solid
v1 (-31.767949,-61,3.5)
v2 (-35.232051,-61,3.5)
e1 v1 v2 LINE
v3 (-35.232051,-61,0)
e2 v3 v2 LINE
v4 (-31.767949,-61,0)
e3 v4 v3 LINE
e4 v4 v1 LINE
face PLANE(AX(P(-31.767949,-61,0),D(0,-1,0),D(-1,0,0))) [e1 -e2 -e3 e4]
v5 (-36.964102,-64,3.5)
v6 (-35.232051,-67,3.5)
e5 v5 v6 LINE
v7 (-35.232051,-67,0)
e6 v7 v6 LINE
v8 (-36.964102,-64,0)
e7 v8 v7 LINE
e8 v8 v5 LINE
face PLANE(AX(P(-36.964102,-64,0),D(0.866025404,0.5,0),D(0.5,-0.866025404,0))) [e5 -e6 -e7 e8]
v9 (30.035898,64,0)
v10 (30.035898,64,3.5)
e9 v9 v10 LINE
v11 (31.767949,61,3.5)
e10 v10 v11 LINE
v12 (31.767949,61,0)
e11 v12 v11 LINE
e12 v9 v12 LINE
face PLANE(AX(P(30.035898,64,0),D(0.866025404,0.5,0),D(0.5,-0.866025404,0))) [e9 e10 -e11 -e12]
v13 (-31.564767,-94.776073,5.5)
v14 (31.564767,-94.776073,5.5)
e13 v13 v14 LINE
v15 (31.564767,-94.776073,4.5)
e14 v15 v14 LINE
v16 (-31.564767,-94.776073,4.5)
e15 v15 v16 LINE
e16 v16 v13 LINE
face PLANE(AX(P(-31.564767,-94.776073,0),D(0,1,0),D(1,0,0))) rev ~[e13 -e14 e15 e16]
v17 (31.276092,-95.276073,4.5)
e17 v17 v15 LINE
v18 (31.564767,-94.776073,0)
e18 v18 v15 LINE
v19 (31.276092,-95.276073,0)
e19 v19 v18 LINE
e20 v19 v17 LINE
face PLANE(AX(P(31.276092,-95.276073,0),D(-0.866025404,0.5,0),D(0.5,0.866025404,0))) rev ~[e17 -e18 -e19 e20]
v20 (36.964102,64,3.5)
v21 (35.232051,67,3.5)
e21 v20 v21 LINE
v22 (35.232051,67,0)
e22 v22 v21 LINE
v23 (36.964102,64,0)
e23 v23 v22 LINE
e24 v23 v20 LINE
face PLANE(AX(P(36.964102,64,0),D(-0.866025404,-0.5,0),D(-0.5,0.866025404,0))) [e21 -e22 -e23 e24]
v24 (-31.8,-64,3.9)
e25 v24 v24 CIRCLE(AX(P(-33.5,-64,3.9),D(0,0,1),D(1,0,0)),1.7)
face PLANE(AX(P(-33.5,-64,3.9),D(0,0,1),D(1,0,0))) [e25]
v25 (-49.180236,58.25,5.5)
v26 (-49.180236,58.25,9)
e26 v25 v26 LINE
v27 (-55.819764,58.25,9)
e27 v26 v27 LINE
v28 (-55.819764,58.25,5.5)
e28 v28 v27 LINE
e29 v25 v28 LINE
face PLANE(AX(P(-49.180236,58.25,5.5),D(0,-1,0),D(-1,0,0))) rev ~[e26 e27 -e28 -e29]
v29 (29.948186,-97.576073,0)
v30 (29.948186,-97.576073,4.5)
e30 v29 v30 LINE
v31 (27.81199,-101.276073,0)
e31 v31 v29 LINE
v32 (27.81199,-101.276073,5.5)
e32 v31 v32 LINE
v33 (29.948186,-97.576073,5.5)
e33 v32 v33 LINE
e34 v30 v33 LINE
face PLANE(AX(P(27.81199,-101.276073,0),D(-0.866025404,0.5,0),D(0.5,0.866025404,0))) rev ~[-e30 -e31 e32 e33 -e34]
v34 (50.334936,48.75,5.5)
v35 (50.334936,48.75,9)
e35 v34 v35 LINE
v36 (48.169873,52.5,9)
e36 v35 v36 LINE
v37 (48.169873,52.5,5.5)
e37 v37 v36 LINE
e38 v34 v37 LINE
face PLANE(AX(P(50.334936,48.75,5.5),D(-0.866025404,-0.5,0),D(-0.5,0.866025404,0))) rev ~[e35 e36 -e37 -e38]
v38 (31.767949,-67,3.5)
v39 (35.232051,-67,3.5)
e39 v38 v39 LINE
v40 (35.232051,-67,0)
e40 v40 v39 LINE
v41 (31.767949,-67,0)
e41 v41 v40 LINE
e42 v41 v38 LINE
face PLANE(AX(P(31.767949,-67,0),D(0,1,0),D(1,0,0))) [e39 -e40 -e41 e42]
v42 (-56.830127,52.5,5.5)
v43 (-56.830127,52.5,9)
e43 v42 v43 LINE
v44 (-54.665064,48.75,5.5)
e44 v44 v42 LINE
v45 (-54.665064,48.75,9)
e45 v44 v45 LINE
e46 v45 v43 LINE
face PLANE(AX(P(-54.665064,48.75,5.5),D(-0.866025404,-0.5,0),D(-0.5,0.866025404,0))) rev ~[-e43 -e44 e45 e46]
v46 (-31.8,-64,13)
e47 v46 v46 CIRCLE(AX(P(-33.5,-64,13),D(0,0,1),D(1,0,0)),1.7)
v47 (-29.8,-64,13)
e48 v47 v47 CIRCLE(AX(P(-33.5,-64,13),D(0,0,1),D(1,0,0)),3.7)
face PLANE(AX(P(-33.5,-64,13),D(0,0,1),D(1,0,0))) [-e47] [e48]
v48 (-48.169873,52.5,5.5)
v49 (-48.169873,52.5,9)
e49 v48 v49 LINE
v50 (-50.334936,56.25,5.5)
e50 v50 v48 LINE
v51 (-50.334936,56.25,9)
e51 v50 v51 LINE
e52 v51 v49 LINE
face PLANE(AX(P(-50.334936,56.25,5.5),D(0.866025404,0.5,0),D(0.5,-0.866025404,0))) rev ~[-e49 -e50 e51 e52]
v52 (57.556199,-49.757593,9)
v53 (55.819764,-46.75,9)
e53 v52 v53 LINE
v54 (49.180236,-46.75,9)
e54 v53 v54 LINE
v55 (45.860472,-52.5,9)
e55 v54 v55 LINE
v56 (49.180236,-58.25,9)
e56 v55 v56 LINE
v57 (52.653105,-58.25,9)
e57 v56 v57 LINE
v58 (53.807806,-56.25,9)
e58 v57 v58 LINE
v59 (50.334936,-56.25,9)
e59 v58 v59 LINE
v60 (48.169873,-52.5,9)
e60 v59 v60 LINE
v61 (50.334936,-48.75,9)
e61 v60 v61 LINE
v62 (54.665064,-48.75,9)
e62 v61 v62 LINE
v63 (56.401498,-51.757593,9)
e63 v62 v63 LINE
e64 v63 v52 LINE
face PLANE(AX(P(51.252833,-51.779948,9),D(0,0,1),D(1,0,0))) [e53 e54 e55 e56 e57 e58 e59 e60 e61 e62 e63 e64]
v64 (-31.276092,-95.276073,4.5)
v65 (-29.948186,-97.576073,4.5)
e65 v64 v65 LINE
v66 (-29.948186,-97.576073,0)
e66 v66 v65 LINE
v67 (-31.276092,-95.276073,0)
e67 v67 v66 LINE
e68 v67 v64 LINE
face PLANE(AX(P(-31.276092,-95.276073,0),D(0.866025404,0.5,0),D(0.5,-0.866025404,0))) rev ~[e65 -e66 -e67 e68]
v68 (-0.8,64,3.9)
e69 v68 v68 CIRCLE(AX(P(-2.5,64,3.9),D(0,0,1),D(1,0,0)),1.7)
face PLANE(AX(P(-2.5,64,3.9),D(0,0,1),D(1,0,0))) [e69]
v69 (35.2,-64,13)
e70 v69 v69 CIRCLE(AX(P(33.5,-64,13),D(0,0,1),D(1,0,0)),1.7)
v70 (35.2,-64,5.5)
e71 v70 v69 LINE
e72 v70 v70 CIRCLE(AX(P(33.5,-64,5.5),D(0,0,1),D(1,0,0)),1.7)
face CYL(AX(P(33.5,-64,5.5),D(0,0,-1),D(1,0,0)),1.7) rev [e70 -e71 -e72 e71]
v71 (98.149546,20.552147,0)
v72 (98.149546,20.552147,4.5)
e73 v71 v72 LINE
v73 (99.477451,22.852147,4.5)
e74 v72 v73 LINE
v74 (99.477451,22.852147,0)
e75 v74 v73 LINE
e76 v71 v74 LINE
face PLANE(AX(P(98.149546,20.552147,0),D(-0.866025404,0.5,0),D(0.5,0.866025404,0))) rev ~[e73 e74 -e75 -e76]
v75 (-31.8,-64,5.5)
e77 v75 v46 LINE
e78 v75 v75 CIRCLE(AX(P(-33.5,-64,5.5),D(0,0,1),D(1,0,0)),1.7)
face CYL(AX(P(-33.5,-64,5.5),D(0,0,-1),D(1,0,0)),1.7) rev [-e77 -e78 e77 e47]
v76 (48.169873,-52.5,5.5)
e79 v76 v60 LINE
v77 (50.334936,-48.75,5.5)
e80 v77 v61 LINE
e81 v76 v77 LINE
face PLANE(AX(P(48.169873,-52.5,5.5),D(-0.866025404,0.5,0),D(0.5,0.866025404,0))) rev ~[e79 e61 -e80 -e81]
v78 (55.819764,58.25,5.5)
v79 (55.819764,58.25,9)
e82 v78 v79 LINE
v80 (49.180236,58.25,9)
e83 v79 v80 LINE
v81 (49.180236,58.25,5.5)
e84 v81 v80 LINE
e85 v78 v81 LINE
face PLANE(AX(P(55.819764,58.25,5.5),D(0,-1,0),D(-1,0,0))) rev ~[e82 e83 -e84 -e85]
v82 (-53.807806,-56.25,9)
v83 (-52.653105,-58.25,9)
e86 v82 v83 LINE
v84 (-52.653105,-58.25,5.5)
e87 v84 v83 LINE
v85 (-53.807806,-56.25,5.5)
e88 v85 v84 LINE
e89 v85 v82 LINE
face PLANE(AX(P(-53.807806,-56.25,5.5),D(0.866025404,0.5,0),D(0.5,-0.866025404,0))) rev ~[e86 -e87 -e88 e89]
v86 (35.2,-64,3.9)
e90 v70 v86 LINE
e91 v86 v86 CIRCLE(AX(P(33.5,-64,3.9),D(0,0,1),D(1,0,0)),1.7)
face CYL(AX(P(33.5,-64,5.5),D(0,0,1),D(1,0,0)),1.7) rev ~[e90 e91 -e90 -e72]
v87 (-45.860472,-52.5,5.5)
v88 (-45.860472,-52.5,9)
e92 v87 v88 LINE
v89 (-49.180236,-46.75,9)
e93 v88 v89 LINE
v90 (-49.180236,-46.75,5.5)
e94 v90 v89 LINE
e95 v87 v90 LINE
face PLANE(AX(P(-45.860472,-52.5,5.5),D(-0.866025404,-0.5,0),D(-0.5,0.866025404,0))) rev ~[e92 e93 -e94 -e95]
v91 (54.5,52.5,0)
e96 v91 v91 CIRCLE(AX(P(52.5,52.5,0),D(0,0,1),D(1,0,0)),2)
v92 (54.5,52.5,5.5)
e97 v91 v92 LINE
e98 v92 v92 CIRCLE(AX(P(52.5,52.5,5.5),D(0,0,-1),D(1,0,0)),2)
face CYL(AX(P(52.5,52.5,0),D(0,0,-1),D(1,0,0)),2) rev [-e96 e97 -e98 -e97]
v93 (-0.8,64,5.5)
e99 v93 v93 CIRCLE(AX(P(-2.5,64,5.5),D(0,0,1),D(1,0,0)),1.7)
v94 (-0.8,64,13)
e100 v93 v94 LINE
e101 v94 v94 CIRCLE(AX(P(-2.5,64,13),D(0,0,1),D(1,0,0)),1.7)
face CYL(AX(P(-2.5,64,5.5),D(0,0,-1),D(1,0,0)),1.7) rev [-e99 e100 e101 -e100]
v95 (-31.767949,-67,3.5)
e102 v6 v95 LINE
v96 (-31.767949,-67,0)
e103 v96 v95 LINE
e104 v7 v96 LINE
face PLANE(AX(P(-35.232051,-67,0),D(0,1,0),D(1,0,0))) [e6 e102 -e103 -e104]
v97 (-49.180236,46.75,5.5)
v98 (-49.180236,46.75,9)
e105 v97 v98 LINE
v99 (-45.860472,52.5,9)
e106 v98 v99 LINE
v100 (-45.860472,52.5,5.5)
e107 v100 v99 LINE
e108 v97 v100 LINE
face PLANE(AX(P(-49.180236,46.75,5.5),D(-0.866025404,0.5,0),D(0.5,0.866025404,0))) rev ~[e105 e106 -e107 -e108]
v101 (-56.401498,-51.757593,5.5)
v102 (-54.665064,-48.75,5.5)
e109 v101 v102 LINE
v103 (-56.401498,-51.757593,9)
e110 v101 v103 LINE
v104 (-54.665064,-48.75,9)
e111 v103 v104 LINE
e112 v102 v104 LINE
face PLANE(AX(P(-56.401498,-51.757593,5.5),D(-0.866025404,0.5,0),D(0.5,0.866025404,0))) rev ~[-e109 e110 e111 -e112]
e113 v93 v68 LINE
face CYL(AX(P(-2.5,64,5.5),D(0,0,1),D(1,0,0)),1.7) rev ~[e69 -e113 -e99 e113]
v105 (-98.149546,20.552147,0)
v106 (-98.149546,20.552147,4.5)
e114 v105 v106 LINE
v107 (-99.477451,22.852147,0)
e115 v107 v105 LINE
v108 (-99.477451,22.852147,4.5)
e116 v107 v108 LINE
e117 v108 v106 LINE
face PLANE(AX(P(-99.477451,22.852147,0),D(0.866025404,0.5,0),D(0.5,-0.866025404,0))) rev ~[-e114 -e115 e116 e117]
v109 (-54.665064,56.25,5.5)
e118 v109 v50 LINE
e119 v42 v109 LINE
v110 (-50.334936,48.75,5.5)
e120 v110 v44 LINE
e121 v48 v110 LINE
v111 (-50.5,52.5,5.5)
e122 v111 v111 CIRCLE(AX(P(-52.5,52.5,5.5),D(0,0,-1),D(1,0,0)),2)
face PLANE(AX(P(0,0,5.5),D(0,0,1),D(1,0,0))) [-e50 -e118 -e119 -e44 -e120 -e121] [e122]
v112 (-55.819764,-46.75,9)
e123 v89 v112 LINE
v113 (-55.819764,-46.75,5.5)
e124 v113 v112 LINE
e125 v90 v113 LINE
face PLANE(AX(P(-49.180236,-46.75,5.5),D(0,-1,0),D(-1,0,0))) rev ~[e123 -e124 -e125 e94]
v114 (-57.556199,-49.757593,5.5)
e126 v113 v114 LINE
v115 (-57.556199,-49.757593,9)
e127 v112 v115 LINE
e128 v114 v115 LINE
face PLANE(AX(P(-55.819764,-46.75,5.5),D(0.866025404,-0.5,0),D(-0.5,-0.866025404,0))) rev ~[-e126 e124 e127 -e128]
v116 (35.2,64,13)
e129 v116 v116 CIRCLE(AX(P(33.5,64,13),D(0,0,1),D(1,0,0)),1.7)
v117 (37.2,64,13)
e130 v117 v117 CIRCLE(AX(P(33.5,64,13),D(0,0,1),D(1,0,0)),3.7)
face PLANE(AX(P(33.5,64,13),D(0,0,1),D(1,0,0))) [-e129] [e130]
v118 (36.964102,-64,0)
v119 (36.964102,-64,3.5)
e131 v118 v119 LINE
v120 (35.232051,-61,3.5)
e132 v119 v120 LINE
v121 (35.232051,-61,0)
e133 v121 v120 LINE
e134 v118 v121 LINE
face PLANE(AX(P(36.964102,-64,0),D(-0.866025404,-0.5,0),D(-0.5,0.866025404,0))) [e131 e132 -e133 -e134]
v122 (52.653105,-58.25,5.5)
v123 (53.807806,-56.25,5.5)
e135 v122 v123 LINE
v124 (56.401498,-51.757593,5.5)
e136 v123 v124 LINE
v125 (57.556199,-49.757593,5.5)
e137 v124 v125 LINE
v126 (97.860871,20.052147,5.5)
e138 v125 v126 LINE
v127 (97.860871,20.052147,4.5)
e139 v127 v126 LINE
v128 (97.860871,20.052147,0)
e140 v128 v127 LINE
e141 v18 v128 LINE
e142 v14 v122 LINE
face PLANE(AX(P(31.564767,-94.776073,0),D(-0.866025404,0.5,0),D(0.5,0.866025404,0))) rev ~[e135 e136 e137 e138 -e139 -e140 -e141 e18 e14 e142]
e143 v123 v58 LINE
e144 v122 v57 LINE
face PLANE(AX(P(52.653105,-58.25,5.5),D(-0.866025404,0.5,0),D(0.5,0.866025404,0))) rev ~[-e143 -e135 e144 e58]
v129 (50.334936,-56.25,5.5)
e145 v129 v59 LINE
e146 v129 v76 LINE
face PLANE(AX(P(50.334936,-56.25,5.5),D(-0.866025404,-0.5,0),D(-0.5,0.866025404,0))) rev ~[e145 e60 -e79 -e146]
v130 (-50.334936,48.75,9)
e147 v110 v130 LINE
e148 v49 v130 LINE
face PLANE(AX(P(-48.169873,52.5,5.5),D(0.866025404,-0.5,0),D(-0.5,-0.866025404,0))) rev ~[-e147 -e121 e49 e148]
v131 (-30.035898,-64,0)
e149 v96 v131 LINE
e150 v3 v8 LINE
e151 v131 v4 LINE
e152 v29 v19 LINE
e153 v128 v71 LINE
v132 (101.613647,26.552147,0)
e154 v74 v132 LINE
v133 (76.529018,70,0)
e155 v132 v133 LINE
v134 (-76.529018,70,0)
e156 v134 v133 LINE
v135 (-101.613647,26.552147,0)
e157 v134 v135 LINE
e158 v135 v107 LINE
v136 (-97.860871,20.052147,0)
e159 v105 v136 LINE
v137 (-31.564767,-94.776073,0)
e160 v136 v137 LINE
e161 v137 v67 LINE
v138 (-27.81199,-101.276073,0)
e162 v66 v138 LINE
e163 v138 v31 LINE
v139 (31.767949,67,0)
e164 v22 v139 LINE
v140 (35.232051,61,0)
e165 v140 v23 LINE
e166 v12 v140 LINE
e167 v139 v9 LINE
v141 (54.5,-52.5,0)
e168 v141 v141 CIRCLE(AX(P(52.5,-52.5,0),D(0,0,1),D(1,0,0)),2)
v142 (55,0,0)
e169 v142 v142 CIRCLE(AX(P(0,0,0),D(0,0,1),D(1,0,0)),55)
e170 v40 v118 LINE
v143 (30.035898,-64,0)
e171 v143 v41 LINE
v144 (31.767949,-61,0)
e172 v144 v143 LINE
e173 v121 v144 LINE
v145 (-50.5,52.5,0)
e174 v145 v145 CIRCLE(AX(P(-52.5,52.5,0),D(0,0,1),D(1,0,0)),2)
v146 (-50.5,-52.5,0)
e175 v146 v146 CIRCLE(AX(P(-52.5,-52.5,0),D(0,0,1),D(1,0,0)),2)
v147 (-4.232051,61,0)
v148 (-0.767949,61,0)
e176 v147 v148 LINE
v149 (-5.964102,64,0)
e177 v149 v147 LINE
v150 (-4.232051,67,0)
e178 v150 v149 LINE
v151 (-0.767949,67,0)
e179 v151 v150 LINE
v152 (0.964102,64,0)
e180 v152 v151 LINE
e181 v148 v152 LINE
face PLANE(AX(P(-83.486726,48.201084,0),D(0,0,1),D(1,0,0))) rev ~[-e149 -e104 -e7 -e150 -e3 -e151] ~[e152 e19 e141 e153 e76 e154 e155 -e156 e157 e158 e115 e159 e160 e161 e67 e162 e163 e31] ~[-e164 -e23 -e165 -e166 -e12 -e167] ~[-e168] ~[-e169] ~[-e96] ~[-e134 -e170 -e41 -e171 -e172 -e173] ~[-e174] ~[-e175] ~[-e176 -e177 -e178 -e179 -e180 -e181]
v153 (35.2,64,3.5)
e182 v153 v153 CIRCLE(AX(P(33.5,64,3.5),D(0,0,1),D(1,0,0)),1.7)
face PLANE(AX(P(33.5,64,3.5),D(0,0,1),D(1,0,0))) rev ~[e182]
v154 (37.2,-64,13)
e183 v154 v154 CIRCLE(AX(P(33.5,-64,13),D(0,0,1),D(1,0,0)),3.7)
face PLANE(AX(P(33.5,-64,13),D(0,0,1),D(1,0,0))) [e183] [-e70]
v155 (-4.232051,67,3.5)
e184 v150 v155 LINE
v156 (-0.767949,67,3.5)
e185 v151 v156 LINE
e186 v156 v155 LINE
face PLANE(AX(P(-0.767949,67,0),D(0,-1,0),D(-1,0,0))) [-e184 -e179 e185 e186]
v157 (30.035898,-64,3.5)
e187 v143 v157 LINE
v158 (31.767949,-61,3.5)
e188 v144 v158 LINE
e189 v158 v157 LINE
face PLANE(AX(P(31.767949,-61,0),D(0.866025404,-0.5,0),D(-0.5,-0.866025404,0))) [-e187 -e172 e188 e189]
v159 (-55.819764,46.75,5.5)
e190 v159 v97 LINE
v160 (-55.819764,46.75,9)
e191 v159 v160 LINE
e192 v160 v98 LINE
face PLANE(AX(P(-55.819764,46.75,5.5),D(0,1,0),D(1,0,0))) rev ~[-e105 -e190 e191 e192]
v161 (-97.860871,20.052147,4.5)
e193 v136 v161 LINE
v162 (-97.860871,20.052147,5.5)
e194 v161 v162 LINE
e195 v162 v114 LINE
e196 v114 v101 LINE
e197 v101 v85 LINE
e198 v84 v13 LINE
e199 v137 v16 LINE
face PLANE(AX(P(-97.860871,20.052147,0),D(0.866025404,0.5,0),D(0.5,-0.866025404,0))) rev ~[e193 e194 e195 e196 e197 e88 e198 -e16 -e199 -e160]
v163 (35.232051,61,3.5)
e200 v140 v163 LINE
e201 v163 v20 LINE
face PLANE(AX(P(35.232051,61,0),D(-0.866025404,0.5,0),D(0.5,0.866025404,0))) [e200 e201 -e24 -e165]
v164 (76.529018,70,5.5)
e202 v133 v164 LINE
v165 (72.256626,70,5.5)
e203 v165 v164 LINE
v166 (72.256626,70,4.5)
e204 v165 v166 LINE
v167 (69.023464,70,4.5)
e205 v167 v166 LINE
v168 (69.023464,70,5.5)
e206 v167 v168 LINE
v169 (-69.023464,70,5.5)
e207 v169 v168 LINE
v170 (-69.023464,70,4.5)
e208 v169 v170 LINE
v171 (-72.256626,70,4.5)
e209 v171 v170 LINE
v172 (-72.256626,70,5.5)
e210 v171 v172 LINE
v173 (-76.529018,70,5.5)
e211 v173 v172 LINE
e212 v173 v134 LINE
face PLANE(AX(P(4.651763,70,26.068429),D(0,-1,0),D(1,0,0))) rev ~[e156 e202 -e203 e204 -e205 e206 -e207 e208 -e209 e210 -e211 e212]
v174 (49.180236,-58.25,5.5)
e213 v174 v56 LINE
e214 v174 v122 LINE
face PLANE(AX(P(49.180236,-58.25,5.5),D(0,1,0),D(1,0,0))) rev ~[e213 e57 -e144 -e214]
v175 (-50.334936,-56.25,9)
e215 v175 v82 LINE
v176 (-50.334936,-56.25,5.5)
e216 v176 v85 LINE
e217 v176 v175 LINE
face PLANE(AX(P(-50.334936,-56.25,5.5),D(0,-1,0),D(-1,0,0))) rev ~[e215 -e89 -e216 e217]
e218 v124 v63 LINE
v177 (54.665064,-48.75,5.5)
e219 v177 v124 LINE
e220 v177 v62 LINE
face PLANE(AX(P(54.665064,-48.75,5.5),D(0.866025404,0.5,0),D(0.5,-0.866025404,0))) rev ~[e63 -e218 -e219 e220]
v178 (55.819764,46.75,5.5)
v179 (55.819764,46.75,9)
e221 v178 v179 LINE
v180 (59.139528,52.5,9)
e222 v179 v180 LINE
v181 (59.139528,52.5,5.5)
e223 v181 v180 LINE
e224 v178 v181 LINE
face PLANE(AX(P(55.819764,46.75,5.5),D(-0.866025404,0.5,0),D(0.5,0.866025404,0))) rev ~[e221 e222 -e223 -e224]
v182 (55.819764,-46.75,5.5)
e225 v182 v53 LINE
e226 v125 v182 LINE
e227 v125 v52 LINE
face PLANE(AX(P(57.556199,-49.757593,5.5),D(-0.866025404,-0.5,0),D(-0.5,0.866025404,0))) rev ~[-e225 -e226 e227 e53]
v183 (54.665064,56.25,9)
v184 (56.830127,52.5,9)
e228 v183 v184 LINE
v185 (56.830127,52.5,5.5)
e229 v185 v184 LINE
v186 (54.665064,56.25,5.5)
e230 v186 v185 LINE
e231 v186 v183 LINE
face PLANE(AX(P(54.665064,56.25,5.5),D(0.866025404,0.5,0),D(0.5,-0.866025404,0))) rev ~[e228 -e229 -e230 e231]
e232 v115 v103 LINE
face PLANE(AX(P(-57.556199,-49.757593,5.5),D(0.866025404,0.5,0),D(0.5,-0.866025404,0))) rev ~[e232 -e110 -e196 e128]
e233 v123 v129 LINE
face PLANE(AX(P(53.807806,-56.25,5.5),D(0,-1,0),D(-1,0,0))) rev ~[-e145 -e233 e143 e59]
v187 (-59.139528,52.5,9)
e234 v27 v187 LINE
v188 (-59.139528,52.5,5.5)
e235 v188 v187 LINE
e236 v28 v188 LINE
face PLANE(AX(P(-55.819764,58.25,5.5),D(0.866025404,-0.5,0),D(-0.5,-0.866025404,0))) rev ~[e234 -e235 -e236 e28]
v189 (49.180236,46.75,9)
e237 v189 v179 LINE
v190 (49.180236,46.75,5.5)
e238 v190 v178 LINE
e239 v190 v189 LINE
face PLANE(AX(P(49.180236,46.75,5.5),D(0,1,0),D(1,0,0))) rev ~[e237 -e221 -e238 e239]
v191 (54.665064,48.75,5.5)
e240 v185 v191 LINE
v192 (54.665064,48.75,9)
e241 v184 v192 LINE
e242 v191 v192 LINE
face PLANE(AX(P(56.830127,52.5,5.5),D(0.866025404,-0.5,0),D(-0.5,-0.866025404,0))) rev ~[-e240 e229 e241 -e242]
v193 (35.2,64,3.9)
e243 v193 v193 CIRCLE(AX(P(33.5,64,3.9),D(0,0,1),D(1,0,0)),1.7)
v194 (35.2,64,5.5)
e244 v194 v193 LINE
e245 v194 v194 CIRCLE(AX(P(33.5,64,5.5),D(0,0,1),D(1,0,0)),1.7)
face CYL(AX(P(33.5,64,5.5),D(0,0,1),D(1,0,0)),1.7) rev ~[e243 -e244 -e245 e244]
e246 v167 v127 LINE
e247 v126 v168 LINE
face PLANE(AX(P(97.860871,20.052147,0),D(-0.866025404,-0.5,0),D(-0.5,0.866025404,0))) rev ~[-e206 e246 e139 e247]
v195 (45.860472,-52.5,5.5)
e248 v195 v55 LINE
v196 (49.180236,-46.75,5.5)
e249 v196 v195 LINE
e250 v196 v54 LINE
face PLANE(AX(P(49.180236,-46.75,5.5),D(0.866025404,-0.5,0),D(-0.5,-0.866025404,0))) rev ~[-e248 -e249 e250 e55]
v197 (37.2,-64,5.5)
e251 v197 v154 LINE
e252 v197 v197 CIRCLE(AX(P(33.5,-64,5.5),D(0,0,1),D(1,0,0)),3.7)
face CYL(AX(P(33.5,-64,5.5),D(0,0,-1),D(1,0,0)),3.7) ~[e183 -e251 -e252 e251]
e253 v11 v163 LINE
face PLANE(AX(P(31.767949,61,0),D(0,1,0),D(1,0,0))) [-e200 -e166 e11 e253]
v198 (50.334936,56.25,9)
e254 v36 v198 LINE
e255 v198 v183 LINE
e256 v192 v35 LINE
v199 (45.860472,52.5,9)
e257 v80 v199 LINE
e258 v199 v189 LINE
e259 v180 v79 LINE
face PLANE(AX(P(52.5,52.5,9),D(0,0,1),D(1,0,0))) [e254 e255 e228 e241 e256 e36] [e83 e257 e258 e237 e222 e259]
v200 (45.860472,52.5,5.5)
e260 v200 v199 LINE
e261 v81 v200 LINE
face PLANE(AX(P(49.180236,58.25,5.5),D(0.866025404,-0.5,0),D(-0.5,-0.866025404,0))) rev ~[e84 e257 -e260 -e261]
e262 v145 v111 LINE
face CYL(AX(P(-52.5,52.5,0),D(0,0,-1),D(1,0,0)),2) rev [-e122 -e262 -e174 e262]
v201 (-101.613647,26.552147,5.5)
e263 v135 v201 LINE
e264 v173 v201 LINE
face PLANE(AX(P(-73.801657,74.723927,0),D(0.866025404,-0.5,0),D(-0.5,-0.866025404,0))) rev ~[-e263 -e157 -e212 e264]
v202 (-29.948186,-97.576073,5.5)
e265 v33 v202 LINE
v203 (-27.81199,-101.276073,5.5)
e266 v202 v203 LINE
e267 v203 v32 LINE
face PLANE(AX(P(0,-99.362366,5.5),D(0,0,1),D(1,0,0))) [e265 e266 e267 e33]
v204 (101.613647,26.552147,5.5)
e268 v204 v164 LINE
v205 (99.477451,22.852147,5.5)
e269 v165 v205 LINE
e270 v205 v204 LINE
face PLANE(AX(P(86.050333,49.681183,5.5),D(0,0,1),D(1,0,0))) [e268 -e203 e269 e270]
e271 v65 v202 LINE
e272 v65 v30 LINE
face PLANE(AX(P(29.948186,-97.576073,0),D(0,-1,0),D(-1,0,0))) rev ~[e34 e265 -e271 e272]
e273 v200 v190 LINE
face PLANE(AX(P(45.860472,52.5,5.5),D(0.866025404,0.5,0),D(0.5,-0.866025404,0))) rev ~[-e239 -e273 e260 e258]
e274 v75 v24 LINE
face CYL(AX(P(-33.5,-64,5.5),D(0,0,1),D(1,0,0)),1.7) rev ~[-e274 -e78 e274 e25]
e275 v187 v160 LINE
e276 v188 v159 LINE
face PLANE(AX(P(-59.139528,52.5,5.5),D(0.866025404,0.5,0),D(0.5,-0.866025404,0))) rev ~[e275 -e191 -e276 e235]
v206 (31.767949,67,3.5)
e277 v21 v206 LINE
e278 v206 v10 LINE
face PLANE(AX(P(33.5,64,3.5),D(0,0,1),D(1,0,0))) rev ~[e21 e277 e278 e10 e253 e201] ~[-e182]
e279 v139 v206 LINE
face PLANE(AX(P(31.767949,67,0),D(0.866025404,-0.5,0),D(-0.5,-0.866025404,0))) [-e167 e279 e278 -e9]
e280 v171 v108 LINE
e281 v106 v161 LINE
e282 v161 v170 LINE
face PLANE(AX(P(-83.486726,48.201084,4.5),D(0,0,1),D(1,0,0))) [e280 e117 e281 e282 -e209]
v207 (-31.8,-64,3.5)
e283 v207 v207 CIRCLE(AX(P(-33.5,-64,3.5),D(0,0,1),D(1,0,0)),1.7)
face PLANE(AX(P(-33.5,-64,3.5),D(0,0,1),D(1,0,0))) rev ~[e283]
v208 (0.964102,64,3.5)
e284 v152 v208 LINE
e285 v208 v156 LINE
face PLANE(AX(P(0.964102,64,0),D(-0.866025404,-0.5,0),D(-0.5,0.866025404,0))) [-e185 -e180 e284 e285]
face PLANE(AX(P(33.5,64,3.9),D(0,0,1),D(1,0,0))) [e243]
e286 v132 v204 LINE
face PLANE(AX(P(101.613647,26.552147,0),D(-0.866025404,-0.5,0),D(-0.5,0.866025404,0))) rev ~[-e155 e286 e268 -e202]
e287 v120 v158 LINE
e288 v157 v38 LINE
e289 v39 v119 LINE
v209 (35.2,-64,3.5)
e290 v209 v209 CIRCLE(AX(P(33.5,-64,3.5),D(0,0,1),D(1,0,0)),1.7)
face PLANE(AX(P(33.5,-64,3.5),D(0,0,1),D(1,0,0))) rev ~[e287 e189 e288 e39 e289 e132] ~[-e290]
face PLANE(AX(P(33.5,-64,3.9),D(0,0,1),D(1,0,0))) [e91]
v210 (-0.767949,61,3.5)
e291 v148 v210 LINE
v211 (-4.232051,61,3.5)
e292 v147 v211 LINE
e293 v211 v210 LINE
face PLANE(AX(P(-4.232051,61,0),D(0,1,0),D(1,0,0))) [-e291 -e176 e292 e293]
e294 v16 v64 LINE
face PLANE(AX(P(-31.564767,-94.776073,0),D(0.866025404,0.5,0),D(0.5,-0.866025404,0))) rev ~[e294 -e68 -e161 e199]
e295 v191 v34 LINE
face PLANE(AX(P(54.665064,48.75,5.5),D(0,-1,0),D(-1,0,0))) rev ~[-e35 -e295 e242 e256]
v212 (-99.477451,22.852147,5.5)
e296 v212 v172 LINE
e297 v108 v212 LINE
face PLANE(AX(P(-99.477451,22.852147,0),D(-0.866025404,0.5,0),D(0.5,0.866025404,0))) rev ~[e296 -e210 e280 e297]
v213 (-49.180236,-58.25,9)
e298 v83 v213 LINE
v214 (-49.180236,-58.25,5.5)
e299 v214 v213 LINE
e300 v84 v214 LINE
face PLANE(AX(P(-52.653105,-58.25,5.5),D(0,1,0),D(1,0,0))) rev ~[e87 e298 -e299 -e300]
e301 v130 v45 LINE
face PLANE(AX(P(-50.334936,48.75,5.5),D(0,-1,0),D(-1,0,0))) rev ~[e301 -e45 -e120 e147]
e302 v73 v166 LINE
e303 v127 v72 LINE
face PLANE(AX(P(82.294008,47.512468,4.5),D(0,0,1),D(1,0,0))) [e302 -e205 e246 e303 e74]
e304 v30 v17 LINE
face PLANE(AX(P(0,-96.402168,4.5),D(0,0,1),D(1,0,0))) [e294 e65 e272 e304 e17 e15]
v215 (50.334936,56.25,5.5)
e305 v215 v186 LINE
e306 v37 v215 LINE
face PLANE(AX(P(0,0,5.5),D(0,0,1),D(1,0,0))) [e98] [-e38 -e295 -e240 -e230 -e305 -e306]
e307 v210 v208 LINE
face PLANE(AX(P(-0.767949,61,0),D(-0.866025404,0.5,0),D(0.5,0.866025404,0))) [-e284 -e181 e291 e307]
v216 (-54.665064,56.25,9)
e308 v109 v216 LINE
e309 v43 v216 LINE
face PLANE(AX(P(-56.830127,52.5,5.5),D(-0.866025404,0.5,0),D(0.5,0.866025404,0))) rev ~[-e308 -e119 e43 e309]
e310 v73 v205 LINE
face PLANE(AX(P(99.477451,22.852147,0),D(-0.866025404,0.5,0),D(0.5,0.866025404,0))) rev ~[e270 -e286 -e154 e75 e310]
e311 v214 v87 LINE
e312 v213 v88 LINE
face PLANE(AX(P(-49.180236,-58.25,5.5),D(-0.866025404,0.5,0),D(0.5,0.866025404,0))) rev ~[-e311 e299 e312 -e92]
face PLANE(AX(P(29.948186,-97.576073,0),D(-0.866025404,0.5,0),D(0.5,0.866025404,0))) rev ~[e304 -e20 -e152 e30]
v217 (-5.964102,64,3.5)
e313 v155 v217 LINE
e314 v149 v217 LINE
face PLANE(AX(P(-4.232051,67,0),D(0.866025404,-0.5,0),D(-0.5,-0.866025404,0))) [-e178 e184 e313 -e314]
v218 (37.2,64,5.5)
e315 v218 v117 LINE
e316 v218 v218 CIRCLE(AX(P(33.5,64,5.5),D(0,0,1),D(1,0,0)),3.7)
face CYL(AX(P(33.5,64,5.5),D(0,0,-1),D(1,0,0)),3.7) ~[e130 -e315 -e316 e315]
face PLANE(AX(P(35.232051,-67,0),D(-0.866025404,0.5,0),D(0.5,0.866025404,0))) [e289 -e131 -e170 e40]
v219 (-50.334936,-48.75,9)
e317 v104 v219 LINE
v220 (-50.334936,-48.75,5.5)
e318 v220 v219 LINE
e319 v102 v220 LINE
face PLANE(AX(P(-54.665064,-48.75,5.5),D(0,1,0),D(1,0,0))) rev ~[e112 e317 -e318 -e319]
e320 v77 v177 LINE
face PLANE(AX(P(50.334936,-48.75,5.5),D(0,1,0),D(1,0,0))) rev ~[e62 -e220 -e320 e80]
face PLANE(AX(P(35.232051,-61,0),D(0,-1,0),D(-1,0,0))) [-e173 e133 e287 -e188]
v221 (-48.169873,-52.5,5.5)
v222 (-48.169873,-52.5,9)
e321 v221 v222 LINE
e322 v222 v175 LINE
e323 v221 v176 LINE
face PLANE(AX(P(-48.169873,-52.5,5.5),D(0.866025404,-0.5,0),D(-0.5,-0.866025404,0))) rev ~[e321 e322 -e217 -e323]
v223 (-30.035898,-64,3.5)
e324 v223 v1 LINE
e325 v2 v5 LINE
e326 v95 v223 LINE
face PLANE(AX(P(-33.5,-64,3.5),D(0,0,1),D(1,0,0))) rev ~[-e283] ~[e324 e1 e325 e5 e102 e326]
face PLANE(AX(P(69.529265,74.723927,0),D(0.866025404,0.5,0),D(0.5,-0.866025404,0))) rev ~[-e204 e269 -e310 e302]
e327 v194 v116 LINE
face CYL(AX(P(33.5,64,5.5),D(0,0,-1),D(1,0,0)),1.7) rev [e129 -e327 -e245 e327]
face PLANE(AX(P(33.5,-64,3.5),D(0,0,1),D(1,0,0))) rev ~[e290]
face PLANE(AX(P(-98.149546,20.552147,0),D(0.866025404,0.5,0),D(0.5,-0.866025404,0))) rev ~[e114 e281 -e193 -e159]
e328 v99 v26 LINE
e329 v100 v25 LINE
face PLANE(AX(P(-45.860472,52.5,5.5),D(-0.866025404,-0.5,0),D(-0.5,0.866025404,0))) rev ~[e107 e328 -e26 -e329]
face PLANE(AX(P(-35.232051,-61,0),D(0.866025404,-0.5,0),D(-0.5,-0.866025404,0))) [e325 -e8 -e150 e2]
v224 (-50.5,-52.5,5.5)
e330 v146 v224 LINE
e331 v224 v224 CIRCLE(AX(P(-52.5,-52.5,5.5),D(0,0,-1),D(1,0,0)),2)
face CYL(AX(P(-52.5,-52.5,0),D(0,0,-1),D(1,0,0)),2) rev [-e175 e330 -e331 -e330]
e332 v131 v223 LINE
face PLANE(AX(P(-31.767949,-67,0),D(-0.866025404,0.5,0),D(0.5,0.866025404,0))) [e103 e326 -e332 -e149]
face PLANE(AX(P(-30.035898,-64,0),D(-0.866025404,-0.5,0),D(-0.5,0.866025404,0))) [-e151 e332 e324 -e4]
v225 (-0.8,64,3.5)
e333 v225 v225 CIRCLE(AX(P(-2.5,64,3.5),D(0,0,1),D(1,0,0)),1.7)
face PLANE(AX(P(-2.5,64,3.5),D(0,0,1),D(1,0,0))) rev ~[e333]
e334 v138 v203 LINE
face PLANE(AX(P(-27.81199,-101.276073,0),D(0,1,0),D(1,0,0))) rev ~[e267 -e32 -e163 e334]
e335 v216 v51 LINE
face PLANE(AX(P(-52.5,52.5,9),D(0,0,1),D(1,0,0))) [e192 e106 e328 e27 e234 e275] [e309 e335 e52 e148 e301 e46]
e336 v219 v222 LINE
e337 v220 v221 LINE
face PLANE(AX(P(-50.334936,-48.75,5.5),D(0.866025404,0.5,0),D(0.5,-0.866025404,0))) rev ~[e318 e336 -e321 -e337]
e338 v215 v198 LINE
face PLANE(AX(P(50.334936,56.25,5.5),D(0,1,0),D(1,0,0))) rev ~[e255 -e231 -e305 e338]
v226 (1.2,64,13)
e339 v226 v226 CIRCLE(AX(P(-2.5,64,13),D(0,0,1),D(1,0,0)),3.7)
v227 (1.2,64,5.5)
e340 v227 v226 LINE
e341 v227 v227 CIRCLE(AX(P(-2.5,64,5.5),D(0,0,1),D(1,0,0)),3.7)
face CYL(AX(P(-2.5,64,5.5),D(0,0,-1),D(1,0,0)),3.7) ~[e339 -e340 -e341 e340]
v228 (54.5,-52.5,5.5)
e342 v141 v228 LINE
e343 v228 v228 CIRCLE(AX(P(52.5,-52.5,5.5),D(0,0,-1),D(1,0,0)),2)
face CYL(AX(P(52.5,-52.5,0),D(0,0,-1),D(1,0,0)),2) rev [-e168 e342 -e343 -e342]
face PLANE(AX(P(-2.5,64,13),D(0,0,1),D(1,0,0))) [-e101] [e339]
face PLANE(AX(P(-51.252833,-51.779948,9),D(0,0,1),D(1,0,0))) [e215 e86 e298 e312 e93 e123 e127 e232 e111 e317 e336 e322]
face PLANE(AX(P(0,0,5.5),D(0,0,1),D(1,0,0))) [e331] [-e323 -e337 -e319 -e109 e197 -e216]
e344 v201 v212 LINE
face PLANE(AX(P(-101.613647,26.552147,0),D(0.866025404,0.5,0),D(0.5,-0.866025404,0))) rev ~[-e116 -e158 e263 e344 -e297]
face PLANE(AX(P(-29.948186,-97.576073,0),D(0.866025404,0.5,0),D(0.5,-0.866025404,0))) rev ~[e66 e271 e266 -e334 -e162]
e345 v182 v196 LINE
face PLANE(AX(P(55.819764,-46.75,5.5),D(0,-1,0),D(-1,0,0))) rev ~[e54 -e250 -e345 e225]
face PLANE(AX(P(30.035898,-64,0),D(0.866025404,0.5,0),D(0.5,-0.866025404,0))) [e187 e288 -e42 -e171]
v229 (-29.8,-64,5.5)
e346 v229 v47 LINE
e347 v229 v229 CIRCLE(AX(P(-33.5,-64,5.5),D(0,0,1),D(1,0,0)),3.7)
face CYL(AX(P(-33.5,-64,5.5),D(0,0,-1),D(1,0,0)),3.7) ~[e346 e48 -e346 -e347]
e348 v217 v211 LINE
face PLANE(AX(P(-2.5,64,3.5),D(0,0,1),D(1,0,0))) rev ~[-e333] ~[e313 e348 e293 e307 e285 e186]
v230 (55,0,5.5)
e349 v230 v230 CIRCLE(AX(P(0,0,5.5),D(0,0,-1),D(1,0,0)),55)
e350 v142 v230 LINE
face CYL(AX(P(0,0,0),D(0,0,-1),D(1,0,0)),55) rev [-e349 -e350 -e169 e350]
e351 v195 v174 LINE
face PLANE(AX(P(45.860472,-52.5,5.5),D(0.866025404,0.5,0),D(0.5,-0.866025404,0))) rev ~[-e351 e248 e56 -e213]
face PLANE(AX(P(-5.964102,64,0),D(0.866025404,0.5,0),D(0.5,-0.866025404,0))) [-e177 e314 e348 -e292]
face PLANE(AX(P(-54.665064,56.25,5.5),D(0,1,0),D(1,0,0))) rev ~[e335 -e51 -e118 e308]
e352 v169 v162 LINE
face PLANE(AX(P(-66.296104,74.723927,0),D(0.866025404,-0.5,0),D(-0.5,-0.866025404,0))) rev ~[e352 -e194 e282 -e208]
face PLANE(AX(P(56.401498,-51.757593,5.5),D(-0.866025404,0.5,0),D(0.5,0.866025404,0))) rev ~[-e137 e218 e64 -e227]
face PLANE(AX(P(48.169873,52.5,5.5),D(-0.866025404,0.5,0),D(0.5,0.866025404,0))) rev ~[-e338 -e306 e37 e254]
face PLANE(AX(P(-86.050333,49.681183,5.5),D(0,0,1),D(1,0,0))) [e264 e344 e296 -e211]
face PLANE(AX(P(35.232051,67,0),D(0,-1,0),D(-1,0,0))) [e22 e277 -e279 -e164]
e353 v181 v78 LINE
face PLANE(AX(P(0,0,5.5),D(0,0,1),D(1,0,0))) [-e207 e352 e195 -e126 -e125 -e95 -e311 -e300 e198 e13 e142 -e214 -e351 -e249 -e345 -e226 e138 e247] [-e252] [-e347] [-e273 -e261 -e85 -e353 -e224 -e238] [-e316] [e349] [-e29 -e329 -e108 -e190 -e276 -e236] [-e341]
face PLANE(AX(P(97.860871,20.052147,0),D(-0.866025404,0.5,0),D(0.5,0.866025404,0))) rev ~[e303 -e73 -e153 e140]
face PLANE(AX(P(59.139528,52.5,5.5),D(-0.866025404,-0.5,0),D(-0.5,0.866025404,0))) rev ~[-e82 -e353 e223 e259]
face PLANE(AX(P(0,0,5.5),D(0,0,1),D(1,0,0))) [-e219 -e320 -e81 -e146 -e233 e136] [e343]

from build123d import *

# Parameters (mm, degrees)
F2_DEPTH      = 5.5
F3_DEPTH      = 4.5
F4_R          = 3.7
F4_R_2        = 1.7
F5_DEPTH      = 7.5
F6_DEPTH      = 25
F7_R          = 2
F7_R_2        = 55
F8_DEPTH      = 25
F9_DEPTH      = 7.5
F9_DEPTH_BACK = 2
F10_START     = -1.6
F10_DEPTH     = 0.4
F12_DEPTH     = 3.5
F14_W         = 250.9568184614
F14_H         = 134.5421932638
F15_DEPTH     = 25


with BuildPart() as f2:
    # F1 (on face) → F2 (new body)
    with BuildSketch(Plane.XY):
        Polygon((-66.2961039686, 74.7239265275), (-97.8608706276, 20.052146945), (-31.5647666591, -94.7760734725), (31.5647666591, -94.7760734725), (97.8608706276, 20.052146945), (66.2961039686, 74.7239265275), align=None)
    extrude(amount=F2_DEPTH)



with BuildPart() as f2b:
    # F1 (on face) → F2, piece 2 (new body)
    with BuildSketch(Plane.XY):
        Polygon((73.801657468, 74.7239265275), (69.529265476, 74.7239265275), (99.4774513814, 22.852146945), (101.6136473774, 26.552146945), align=None)
    extrude(amount=F2_DEPTH)


with BuildPart() as f2c:
    # F1 (on face) → F2, piece 3 (new body)
    with BuildSketch(Plane.XY):
        Polygon((29.9481859053, -97.5760734725), (-29.9481859053, -97.5760734725), (-27.8119899093, -101.2760734725), (27.8119899093, -101.2760734725), align=None)
    extrude(amount=F2_DEPTH)


with BuildPart() as f2d:
    # F1 (on face) → F2, piece 4 (new body)
    with BuildSketch(Plane.XY):
        Polygon((-73.801657468, 74.7239265275), (-101.6136473774, 26.552146945), (-99.4774513814, 22.852146945), (-69.529265476, 74.7239265275), align=None)
    extrude(amount=F2_DEPTH)


with BuildPart() as f2_1:
    add(f2.part)

    add(f2b.part)  # F3 merges F2b

    add(f2c.part)  # F3 merges F2c

    add(f2d.part)  # F3 merges F2d
    # F1 (on face) → F3 (join)
    with BuildSketch(Plane.XY):
        Polygon((-69.529265476, 74.7239265275), (-99.4774513814, 22.852146945), (-98.1495457622, 20.552146945), (-66.8734542378, 74.7239265275), align=None)
        Polygon((31.2760915245, -95.2760734725), (-31.2760915245, -95.2760734725), (-29.9481859053, -97.5760734725), (29.9481859053, -97.5760734725), align=None)
        Polygon((31.5647666591, -94.7760734725), (-31.5647666591, -94.7760734725), (-31.2760915245, -95.2760734725), (31.2760915245, -95.2760734725), align=None)
        Polygon((66.8734542378, 74.7239265275), (66.2961039686, 74.7239265275), (97.8608706276, 20.052146945), (98.1495457622, 20.552146945), align=None)
        Polygon((69.529265476, 74.7239265275), (66.8734542378, 74.7239265275), (98.1495457622, 20.552146945), (99.4774513814, 22.852146945), align=None)
        Polygon((-66.8734542378, 74.7239265275), (-98.1495457622, 20.552146945), (-97.8608706276, 20.052146945), (-66.2961039686, 74.7239265275), align=None)
    extrude(amount=F3_DEPTH)

    # F4 (on face) → F5 (join)
    with BuildSketch(Plane.XY.offset(5.5)):
        with Locations((33.5, 64)):
            Circle(F4_R)
        with Locations((33.5, 64)):
            Circle(F4_R_2, mode=Mode.SUBTRACT)
        with Locations((-2.5, 64)):
            Circle(F4_R)
        with Locations((-2.5, 64)):
            Circle(F4_R_2, mode=Mode.SUBTRACT)
        with Locations((33.5, -64)):
            Circle(F4_R)
        with Locations((33.5, -64)):
            Circle(F4_R_2, mode=Mode.SUBTRACT)
        with Locations((-33.5, -64)):
            Circle(F4_R)
        with Locations((-33.5, -64)):
            Circle(F4_R_2, mode=Mode.SUBTRACT)
    extrude(amount=F5_DEPTH)

    # F6 (cut): faces of the model
    f6_faces = [f2_1.faces().sort_by_distance(p)[0] for p in [
        (-33.5, -64, 5.5),
        (33.5, -64, 5.5),
        (-2.5, 64, 5.5),
        (33.5, 64, 5.5),
    ]]
    extrude(f6_faces, amount=-F6_DEPTH, mode=Mode.SUBTRACT)

    # F7 (on face) → F8 (cut)
    with BuildSketch(Plane.XY):
        with Locations((52.5, 52.5)):
            Circle(F7_R)
        with Locations((52.5, -52.5)):
            Circle(F7_R)
        with Locations((-52.5, -52.5)):
            Circle(F7_R)
        with Locations((-52.5, 52.5)):
            Circle(F7_R)
        Circle(F7_R_2)
        Polygon((-31.7679491924, -67), (-30.0358983849, -64), (-31.7679491924, -61), (-35.2320508076, -61), (-36.9641016151, -64), (-35.2320508076, -67), align=None)
        Polygon((31.7679491924, -67), (35.2320508076, -67), (36.9641016151, -64), (35.2320508076, -61), (31.7679491924, -61), (30.0358983849, -64), align=None)
        Polygon((-4.2320508076, 61), (-0.7679491924, 61), (0.9641016151, 64), (-0.7679491924, 67), (-4.2320508076, 67), (-5.9641016151, 64), align=None)
        Polygon((31.7679491924, 61), (35.2320508076, 61), (36.9641016151, 64), (35.2320508076, 67), (31.7679491924, 67), (30.0358983849, 64), align=None)
    extrude(amount=F8_DEPTH, mode=Mode.SUBTRACT)

    # F4 (on face) → F9 (join, two sides)
    with BuildSketch(Plane.XY.offset(5.5)) as f9_sk:
        with Locations((33.5, 64)):
            Circle(F4_R)
        with Locations((33.5, 64)):
            Circle(F4_R_2, mode=Mode.SUBTRACT)
        with Locations((-2.5, 64)):
            Circle(F4_R)
        with Locations((-2.5, 64)):
            Circle(F4_R_2, mode=Mode.SUBTRACT)
        with Locations((33.5, -64)):
            Circle(F4_R)
        with Locations((33.5, -64)):
            Circle(F4_R_2, mode=Mode.SUBTRACT)
        with Locations((-33.5, -64)):
            Circle(F4_R)
        with Locations((-33.5, -64)):
            Circle(F4_R_2, mode=Mode.SUBTRACT)
    extrude(amount=F9_DEPTH)
    extrude(f9_sk.sketch, amount=-F9_DEPTH_BACK)

    # F4 (on face) → F10 (join)
    with BuildSketch(Plane.XY.offset(5.5).offset(F10_START)):
        with Locations((33.5, 64)):
            Circle(F4_R_2)
        with Locations((-2.5, 64)):
            Circle(F4_R_2)
        with Locations((-33.5, -64)):
            Circle(F4_R_2)
        with Locations((33.5, -64)):
            Circle(F4_R_2)
    extrude(amount=-F10_DEPTH)

    # F11 (on face) → F12 (join)
    with BuildSketch(Plane.XY.offset(5.5)):
        Polygon((-56.4014980388, -51.7575928288), (-54.6650635095, -48.75), (-50.3349364905, -48.75), (-48.1698729811, -52.5), (-50.3349364905, -56.25), (-53.8078055492, -56.25), (-52.6531050108, -58.25), (-49.1802359522, -58.25), (-45.8604719043, -52.5), (-49.1802359522, -46.75), (-55.8197640478, -46.75), (-57.5561985772, -49.7575928288), align=None)
        Polygon((49.1802359522, -58.25), (52.6531050108, -58.25), (53.8078055492, -56.25), (50.3349364905, -56.25), (48.1698729811, -52.5), (50.3349364905, -48.75), (54.6650635095, -48.75), (56.4014980388, -51.7575928288), (57.5561985772, -49.7575928288), (55.8197640478, -46.75), (49.1802359522, -46.75), (45.8604719043, -52.5), align=None)
        Polygon((-55.8197640478, 46.75), (-49.1802359522, 46.75), (-45.8604719043, 52.5), (-49.1802359522, 58.25), (-55.8197640478, 58.25), (-59.1395280957, 52.5), align=None)
        Polygon((-48.1698729811, 52.5), (-50.3349364905, 48.75), (-54.6650635095, 48.75), (-56.8301270189, 52.5), (-54.6650635095, 56.25), (-50.3349364905, 56.25), align=None, mode=Mode.SUBTRACT)
        Polygon((49.1802359522, 46.75), (55.8197640478, 46.75), (59.1395280957, 52.5), (55.8197640478, 58.25), (49.1802359522, 58.25), (45.8604719043, 52.5), align=None)
        Polygon((56.8301270189, 52.5), (54.6650635095, 48.75), (50.3349364905, 48.75), (48.1698729811, 52.5), (50.3349364905, 56.25), (54.6650635095, 56.25), align=None, mode=Mode.SUBTRACT)
    extrude(amount=F12_DEPTH)

    # F14 (on offset) → F15 (cut)
    with BuildSketch(Plane.XZ.offset(-70)):
        with Locations((4.6517625451, 26.0684285313)):
            Rectangle(F14_W, F14_H)
    extrude(amount=-F15_DEPTH, mode=Mode.SUBTRACT)


solid = f2_1.part
